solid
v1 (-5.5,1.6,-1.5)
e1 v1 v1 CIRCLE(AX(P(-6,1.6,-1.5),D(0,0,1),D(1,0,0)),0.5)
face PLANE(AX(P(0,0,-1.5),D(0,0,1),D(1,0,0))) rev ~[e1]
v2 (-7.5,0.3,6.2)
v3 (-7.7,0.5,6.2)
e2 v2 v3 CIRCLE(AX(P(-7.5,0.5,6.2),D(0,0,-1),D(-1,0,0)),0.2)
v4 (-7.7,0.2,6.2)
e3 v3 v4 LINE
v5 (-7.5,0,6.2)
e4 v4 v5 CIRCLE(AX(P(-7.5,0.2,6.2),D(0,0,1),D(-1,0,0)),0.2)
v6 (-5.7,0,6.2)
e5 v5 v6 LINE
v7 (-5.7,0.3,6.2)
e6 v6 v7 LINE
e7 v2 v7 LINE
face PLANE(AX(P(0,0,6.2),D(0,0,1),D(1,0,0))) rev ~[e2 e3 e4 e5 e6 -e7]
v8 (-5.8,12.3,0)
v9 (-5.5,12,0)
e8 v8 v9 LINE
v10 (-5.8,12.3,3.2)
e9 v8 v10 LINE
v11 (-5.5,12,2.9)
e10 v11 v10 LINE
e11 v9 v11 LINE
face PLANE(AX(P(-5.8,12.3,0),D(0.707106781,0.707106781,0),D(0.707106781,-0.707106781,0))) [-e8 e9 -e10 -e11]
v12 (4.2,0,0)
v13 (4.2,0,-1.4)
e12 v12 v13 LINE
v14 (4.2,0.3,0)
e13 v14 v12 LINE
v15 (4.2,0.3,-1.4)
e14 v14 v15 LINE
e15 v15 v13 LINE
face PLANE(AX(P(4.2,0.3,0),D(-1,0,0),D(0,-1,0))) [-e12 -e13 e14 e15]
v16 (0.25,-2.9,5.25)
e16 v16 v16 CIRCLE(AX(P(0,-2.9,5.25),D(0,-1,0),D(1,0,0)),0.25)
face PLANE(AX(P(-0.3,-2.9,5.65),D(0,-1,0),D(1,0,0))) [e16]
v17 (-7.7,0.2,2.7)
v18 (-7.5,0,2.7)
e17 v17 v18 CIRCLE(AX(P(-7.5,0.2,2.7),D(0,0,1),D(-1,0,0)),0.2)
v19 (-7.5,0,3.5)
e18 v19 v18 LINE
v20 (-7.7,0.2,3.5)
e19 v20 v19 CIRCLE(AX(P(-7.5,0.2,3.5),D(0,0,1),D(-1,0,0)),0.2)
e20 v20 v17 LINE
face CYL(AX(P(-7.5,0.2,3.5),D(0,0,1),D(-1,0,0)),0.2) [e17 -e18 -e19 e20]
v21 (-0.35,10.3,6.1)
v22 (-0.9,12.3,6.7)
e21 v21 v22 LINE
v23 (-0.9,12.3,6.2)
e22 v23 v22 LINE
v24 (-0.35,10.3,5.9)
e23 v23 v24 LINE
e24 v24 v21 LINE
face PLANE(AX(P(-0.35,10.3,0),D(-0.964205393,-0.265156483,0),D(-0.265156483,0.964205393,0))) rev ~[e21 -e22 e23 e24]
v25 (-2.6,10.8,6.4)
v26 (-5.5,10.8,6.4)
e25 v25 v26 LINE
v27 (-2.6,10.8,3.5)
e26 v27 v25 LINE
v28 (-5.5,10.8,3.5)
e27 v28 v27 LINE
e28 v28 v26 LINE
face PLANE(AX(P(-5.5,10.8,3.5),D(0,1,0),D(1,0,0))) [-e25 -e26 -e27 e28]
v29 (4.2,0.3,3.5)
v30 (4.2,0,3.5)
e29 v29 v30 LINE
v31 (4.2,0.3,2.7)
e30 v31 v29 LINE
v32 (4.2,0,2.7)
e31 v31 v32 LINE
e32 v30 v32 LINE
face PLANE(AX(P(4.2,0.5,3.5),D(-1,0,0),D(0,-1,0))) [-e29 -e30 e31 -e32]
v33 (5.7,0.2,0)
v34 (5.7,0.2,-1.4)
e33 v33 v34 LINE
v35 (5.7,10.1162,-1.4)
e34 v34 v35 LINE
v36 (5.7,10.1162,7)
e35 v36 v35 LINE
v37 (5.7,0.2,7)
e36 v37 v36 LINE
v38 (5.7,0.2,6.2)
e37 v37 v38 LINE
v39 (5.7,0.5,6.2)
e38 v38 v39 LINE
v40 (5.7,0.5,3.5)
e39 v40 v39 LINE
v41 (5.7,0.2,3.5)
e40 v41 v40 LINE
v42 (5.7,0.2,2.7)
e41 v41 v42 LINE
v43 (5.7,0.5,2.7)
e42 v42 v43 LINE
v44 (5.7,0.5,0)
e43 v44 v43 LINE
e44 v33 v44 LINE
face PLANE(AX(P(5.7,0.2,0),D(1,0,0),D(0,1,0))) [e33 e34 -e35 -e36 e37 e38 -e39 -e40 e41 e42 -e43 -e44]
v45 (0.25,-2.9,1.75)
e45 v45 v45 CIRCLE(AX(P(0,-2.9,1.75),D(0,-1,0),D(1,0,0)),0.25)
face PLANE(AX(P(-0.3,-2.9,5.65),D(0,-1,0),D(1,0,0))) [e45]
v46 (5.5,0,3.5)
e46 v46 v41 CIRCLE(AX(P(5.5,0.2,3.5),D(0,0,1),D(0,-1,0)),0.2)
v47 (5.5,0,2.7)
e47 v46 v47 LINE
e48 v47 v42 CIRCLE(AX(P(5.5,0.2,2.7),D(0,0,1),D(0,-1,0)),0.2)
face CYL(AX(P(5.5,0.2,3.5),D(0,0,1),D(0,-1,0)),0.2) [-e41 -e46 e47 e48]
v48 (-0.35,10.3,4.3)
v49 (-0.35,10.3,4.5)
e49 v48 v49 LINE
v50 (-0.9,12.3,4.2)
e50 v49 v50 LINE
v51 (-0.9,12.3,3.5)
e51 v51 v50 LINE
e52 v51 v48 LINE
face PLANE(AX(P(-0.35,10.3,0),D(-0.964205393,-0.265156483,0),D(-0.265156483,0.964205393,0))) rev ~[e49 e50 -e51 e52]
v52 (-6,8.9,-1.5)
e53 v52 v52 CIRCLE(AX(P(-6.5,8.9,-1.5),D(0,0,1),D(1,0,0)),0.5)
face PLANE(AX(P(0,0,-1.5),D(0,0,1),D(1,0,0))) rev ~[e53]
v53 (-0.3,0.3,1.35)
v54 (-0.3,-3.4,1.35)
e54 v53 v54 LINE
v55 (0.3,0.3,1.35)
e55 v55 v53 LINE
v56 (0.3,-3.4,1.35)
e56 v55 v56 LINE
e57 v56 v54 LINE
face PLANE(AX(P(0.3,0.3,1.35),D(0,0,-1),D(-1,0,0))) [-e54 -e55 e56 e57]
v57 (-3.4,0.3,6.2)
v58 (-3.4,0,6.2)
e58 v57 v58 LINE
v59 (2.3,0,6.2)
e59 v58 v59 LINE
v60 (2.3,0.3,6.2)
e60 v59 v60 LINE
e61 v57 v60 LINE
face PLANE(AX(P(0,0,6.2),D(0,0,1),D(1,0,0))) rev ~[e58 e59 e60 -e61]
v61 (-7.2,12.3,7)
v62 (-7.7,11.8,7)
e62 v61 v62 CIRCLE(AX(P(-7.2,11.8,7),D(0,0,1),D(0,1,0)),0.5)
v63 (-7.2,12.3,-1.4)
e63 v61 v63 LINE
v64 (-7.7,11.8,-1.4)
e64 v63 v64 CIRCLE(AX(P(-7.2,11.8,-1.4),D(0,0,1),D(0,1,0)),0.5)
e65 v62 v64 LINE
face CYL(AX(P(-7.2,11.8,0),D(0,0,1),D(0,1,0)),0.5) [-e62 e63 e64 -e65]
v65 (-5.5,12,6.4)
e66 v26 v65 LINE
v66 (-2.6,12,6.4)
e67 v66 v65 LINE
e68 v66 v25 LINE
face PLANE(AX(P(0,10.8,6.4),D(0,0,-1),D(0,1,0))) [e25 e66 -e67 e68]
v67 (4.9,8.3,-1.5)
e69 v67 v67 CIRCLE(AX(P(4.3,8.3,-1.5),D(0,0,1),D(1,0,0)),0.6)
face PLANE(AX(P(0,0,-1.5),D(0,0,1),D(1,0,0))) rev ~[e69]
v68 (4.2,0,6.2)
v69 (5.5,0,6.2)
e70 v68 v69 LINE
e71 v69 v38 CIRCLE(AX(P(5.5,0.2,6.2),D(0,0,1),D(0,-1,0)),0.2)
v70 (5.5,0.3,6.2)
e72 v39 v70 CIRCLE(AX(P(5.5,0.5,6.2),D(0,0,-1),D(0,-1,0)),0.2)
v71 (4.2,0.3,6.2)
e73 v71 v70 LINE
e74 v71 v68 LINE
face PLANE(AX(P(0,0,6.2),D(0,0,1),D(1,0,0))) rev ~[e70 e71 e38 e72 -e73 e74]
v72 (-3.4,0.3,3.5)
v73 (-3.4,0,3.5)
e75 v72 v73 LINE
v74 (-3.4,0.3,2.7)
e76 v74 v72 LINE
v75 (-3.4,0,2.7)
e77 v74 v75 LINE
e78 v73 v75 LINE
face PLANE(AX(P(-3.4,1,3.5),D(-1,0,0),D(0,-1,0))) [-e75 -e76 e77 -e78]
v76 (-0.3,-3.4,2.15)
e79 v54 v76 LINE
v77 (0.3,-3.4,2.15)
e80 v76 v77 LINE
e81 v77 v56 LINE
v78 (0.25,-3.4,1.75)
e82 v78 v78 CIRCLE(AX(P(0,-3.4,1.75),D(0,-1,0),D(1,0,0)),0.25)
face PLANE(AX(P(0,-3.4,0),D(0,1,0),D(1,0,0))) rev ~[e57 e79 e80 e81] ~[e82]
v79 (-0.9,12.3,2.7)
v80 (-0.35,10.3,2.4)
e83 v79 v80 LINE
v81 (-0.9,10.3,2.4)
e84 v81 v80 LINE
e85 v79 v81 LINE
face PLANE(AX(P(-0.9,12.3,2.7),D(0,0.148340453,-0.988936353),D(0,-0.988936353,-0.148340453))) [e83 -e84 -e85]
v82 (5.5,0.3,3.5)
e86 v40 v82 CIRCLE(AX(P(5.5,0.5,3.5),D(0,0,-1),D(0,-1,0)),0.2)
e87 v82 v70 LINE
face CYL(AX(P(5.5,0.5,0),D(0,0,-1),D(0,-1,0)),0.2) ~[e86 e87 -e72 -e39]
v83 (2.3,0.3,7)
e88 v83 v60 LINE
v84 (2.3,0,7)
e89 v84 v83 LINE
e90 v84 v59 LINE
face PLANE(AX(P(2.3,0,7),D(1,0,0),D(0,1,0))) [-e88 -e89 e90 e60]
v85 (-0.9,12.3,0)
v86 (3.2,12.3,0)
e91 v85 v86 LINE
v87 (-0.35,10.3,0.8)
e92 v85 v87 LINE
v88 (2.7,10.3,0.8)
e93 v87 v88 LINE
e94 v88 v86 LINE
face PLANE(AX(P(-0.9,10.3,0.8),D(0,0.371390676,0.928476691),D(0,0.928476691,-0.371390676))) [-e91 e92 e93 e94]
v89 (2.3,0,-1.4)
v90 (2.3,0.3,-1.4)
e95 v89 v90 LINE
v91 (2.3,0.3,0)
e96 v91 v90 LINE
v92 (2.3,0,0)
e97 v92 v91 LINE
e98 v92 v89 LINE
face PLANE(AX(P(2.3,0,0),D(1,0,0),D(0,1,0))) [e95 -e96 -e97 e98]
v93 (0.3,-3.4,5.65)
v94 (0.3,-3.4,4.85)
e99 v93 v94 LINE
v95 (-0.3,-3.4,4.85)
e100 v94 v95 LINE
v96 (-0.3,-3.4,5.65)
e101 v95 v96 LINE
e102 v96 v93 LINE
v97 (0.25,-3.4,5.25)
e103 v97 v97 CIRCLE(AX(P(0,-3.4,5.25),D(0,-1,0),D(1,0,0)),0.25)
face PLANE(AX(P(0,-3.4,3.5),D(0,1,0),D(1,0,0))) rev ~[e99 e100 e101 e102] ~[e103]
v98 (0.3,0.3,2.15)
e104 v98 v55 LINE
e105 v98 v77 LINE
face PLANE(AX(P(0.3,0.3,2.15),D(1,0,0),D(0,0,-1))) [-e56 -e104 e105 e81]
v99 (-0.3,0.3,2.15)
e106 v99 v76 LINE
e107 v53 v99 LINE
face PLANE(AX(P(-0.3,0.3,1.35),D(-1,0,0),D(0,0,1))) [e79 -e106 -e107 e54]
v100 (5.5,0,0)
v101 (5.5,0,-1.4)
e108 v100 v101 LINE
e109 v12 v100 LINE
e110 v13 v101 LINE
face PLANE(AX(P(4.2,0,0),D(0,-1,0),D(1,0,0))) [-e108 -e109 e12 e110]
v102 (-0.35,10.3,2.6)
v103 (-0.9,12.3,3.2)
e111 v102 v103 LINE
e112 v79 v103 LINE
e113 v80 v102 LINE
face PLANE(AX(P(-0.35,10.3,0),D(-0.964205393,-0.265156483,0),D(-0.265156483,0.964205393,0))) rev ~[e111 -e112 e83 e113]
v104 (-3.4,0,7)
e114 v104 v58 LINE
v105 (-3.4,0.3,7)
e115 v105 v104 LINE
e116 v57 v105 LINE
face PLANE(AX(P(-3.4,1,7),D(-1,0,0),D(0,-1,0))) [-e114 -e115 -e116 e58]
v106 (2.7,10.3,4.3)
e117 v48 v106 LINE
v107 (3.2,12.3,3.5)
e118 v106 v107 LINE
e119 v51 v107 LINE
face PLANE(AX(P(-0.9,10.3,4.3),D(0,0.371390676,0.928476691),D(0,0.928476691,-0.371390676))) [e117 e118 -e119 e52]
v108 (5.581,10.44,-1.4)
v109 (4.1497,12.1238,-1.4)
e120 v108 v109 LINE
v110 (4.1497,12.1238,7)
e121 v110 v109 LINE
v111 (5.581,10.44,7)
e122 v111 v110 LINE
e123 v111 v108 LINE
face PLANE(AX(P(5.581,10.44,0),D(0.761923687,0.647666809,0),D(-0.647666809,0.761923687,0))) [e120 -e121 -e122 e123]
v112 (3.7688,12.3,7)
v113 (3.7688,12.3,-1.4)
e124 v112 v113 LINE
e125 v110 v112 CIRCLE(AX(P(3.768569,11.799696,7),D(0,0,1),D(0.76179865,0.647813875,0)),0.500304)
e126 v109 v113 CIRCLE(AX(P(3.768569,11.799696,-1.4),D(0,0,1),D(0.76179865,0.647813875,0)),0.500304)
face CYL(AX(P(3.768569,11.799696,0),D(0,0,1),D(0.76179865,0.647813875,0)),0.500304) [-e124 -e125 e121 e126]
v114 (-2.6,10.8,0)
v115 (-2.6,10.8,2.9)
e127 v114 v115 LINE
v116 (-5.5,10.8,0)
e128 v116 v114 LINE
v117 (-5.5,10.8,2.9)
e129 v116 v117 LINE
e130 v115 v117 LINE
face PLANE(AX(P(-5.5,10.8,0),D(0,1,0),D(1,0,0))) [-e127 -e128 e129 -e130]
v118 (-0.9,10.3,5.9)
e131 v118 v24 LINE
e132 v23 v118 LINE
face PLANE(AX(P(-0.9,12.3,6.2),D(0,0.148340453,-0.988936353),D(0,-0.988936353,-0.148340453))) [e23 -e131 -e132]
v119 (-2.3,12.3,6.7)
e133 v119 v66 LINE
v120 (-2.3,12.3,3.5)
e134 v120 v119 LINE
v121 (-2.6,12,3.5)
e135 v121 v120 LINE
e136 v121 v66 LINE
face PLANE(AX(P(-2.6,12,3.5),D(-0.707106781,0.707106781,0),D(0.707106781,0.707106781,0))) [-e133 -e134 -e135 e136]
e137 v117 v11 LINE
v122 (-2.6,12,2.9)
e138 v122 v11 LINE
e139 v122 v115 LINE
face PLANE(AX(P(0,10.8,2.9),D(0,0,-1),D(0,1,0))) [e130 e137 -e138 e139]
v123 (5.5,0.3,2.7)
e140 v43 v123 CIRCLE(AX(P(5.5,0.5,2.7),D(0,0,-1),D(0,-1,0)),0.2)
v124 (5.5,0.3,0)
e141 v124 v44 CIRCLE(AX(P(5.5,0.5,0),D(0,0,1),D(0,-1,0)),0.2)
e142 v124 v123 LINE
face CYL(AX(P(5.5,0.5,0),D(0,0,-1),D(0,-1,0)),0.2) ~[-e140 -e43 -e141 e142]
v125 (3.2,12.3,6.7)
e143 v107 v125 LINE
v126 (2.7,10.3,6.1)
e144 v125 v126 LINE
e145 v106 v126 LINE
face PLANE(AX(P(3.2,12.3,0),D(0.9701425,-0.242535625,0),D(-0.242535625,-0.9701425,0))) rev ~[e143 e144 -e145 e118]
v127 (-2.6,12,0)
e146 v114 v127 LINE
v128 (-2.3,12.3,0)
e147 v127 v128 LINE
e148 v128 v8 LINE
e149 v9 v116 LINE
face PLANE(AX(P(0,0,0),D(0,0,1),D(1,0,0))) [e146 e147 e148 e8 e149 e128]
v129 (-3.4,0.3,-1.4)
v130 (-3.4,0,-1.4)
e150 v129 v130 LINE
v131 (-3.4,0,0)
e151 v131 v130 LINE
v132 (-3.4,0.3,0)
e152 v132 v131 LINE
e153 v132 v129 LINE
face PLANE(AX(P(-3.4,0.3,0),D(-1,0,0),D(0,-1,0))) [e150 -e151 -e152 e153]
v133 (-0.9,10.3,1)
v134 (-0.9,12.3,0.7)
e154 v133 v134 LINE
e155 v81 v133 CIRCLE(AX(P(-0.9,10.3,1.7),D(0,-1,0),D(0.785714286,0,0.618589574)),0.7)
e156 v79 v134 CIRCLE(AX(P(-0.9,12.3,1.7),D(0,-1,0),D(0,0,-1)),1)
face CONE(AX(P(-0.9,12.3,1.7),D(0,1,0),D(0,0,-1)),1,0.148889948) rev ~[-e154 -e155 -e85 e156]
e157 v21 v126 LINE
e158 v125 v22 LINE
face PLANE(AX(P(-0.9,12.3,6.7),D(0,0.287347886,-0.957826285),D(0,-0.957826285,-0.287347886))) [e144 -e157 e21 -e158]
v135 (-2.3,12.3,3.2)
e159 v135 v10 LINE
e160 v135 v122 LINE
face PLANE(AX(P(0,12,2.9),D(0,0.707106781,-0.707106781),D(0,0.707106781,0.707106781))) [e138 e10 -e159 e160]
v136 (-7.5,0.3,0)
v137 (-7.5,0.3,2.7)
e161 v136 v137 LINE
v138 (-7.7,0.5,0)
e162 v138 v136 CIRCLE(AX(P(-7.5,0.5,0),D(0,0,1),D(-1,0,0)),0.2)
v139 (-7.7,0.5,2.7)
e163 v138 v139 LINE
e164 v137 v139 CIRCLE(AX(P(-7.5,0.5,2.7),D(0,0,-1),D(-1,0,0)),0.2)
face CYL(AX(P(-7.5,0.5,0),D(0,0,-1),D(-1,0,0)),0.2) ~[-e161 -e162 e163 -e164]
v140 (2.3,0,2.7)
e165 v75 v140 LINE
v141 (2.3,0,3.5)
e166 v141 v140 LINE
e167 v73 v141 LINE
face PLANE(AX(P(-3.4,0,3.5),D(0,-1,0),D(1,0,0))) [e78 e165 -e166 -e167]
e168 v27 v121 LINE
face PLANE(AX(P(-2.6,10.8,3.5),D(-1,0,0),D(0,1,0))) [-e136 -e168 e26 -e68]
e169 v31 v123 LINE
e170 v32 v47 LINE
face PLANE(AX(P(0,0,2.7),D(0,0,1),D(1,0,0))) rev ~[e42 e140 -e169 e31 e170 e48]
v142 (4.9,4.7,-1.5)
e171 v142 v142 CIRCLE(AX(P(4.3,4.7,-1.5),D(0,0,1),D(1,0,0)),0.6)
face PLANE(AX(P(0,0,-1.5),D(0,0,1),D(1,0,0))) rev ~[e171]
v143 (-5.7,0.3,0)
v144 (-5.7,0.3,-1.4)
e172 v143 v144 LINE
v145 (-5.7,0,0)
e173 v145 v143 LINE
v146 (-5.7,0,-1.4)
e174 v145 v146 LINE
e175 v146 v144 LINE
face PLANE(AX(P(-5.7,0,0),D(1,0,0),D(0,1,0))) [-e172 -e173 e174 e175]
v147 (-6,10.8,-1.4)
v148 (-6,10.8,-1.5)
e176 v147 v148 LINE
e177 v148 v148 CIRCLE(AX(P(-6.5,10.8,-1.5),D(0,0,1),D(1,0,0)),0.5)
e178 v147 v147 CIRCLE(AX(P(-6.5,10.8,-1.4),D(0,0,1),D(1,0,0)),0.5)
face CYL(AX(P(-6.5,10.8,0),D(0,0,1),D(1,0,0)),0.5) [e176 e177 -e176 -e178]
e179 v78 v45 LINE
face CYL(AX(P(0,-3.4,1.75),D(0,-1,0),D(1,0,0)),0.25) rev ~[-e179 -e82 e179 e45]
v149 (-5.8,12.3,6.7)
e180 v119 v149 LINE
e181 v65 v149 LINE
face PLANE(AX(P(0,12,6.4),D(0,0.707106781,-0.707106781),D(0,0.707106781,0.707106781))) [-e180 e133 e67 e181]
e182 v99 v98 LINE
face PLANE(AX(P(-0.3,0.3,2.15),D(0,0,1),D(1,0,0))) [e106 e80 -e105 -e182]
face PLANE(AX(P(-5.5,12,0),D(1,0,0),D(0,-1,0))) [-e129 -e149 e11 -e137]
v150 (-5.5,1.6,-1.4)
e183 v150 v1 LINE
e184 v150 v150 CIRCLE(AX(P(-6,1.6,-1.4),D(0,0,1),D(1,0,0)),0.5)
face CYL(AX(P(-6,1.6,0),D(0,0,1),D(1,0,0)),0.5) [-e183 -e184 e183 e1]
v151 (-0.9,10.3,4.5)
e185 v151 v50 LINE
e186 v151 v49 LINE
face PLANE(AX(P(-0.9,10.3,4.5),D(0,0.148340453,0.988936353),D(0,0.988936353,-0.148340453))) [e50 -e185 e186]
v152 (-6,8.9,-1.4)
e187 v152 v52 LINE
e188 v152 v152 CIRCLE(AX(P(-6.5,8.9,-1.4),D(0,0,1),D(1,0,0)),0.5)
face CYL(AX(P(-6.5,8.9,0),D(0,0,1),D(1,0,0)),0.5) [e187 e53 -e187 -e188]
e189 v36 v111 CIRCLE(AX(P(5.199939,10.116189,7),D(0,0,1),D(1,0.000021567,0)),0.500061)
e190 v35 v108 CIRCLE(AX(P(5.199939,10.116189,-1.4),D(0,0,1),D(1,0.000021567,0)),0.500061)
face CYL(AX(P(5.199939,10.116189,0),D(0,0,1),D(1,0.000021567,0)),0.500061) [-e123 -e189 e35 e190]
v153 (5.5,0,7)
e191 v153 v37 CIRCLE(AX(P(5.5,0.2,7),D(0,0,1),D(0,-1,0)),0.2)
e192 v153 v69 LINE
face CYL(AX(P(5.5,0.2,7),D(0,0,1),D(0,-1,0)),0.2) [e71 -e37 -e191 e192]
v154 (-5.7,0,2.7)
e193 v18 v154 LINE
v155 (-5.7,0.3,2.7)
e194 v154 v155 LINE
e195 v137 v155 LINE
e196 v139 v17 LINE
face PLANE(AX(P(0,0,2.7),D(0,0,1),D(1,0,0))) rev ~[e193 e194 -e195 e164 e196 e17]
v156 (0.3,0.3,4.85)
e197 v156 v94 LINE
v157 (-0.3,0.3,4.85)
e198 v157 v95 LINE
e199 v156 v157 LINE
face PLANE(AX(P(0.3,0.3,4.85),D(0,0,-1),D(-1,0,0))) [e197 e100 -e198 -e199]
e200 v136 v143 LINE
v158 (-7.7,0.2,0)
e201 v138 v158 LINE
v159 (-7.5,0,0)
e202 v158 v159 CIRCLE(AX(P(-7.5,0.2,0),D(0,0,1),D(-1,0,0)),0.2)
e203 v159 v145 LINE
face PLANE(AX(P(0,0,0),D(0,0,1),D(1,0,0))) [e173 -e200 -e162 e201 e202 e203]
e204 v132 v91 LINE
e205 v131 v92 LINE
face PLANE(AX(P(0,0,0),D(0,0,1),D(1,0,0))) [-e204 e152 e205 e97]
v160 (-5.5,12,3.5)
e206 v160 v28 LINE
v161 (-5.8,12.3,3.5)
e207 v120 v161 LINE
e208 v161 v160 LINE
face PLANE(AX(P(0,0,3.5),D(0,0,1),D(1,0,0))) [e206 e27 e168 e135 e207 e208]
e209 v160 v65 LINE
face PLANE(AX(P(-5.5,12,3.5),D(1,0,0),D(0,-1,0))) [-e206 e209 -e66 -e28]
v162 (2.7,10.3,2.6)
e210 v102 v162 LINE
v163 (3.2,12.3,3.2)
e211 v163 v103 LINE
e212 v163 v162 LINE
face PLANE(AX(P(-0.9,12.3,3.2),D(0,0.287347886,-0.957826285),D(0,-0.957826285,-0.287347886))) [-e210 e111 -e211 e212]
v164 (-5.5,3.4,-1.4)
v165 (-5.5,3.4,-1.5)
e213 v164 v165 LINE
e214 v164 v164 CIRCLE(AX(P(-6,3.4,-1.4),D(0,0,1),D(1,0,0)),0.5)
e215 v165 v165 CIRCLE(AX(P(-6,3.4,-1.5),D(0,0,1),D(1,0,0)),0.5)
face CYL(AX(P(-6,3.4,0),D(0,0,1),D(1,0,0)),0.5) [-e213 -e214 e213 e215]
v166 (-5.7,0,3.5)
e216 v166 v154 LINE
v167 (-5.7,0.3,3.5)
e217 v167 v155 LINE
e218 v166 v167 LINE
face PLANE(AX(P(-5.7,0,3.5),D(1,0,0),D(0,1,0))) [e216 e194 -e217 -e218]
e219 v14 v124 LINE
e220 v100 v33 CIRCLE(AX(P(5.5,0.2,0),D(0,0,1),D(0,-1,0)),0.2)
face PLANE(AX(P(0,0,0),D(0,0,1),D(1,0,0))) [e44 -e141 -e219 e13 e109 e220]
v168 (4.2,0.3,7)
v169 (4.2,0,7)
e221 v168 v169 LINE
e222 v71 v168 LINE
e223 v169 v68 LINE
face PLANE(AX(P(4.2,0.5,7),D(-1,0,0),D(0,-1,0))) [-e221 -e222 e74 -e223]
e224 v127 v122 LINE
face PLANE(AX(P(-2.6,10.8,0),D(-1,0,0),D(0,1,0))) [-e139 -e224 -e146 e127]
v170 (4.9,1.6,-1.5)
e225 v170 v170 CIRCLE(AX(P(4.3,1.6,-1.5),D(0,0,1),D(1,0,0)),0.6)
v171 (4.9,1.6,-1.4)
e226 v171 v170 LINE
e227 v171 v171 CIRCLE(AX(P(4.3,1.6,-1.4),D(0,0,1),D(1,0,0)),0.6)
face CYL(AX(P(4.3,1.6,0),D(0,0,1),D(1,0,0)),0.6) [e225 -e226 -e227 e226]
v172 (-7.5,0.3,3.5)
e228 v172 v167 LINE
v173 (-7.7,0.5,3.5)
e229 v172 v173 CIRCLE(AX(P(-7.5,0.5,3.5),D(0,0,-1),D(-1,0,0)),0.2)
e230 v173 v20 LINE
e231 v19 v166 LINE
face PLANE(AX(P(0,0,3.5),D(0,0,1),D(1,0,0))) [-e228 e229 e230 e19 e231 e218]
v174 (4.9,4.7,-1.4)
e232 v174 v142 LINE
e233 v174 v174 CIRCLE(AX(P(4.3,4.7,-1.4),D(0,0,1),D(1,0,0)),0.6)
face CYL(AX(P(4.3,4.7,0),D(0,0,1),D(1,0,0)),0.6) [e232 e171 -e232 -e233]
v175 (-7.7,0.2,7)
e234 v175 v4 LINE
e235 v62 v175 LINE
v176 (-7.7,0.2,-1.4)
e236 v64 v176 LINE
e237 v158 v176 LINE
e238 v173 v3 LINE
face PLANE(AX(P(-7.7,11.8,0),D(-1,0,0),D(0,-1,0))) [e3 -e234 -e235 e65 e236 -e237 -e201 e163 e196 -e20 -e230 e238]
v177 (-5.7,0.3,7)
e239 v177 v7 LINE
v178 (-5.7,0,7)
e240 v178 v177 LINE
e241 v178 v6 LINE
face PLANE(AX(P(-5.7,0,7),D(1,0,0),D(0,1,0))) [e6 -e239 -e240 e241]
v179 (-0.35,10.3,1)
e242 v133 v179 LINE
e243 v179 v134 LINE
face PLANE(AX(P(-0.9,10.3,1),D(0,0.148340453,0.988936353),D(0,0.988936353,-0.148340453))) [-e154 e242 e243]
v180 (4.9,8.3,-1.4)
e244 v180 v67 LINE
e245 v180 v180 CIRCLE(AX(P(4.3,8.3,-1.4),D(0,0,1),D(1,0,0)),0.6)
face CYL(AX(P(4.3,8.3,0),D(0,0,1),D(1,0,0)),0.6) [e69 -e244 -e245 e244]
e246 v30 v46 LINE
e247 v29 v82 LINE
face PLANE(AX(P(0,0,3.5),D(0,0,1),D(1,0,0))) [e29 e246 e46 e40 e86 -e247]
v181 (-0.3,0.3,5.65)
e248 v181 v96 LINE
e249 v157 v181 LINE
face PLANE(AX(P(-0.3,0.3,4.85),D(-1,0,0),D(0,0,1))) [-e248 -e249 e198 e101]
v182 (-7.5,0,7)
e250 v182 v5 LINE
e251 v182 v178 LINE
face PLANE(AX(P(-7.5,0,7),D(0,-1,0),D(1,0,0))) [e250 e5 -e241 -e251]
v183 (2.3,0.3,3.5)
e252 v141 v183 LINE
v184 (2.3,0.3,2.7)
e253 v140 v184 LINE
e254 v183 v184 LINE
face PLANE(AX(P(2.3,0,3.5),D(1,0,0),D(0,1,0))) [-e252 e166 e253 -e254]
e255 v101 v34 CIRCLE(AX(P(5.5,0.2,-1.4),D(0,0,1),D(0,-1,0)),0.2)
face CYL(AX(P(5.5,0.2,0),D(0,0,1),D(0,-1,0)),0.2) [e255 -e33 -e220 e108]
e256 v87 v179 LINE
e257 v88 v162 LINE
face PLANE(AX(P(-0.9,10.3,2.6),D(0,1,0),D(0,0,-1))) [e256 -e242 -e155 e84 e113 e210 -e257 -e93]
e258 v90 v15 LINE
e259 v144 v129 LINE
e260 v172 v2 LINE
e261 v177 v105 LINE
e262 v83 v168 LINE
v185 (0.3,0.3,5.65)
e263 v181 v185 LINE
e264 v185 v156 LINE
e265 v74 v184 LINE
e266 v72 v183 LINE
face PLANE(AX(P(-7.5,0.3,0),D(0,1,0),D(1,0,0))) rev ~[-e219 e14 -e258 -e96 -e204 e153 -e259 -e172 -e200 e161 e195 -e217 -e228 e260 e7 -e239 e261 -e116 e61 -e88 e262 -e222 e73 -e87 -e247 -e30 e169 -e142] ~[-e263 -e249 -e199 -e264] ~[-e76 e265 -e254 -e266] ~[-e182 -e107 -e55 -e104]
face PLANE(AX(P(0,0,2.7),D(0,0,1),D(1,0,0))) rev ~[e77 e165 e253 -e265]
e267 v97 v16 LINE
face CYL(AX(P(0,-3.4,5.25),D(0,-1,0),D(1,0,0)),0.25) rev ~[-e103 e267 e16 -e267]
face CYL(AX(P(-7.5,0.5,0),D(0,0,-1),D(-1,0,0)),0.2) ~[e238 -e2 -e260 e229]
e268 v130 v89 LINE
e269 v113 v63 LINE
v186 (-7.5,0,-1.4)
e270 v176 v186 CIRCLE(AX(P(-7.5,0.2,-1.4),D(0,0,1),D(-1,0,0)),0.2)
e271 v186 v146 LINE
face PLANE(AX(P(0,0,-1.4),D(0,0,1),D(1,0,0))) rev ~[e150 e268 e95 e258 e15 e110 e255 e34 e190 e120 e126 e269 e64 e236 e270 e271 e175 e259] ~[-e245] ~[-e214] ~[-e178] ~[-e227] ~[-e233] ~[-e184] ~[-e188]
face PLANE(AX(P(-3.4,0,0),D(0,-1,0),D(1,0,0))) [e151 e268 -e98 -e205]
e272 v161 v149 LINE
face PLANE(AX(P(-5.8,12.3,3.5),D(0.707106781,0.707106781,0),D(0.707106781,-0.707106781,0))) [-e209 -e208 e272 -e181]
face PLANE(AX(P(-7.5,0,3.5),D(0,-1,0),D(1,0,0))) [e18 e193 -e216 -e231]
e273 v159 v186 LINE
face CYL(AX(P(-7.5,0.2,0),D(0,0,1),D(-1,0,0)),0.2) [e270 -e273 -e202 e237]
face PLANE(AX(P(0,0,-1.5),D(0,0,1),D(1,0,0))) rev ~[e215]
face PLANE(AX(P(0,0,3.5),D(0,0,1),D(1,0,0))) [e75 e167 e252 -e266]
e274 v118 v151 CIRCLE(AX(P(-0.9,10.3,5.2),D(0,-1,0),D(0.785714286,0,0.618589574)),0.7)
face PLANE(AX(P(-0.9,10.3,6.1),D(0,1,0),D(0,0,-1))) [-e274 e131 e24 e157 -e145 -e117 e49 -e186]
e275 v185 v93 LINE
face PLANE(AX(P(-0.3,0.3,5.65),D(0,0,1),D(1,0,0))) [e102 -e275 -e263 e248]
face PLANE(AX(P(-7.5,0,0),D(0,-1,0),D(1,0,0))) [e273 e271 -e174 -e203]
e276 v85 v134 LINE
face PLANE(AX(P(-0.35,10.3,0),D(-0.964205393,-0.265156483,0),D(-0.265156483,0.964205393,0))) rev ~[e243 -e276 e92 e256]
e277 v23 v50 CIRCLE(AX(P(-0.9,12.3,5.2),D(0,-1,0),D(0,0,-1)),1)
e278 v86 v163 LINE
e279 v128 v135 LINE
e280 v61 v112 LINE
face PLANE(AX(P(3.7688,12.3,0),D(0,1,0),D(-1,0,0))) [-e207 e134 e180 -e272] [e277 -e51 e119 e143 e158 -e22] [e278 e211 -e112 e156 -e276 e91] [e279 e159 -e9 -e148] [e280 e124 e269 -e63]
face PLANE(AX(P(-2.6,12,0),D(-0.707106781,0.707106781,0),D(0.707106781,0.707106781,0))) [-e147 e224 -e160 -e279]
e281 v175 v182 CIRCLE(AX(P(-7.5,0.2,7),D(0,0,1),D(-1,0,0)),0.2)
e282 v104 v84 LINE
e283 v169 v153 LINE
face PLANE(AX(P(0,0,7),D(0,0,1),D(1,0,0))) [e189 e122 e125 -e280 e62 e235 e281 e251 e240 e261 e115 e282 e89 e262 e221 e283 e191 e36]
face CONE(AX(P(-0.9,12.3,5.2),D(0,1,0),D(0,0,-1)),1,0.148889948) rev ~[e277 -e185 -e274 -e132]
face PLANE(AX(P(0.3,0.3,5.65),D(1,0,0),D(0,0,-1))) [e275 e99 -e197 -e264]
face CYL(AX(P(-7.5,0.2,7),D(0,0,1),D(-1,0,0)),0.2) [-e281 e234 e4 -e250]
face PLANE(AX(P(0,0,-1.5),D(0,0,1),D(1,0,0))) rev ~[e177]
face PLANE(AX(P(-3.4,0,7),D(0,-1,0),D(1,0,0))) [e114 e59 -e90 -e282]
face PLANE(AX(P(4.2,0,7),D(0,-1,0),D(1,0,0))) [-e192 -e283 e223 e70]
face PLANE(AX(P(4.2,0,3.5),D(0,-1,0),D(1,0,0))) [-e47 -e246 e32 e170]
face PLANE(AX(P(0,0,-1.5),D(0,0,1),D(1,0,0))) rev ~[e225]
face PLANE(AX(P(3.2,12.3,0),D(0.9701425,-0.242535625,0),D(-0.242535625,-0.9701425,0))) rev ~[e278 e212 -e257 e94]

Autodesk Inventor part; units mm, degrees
ref_plane "YZ Plane" through (0, 0, 0) normal (1, 0, 0) x (0, 1, 0)
ref_plane "XZ Plane" through (0, 0, 0) normal (0, 1, 0) x (-1, 0, 0)
ref_plane "XY Plane" through (0, 0, 0) normal (0, 0, 1) x (1, 0, 0)
sketch "Skizze_1" plane through (0, 0, 0) normal (0, 0, 1) x (1, 0, 0)
  arc A0 (-7.7, 0.5) -> (-7.5, 0.3) centre (-7.5, 0.5) ccw
  line L0 (-7.5, 0.3) -> (5.5, 0.3)
  arc A1 (5.5, 0.3) -> (5.7, 0.5) centre (5.5, 0.5) ccw
  line L1 (5.7, 0.5) -> (5.7, 10.1162)
  arc A2 (5.7, 10.1162) -> (5.581, 10.44) centre (5.2, 10.1162) ccw
  line L2 (5.581, 10.44) -> (4.1497, 12.1238)
  arc A3 (4.1497, 12.1238) -> (3.7688, 12.3) centre (3.7688, 11.8) ccw
  line L3 (3.7688, 12.3) -> (-7.2, 12.3)
  arc A4 (-7.2, 12.3) -> (-7.7, 11.8) centre (-7.2, 11.8) ccw
  line L4 (-7.7, 11.8) -> (-7.7, 0.5)
extrude "Extrusion1" add sketch "Skizze_1" along normal blind 7
sketch "Skizze_2" plane through (0, 0, 7) normal (0, 0, 1) x (1, 0, 0)
  line L0 (4.2, 0) -> (5.5, 0)
  arc A0 (5.5, 0) -> (5.7, 0.2) centre (5.5, 0.2) ccw
  line L1 (5.7, 0.2) -> (5.7, 0.5)
  line L2 (5.7, 0.5) -> (4.2, 0.5)
  line L3 (4.2, 0.5) -> (4.2, 0)
extrude "Extrusion2" add sketch "Skizze_2" against normal blind 0.8
pattern_linear "Rectangular Pattern1" count 2 spacing 3.5 along (0, 0, -1) of "Extrusion2"
sketch "Skizze_4" plane through (0, 0, 7) normal (0, 0, 1) x (1, 0, 0)
  line L0 (-7.7, 1) -> (-7.7, 0.2)
  arc A0 (-7.7, 0.2) -> (-7.5, 0) centre (-7.5, 0.2) ccw
  line L1 (-7.5, 0) -> (-5.7, 0)
  line L2 (-5.7, 0) -> (-5.7, 1)
  line L3 (-5.7, 1) -> (-7.7, 1)
extrude "Extrusion3" add sketch "Skizze_4" against normal blind 0.8
pattern_linear "Rectangular Pattern2" count 2 spacing 3.5 along (0, 0, -1) of "Extrusion3"
sketch "Skizze_6" plane through (0, 0, 7) normal (0, 0, 1) x (1, 0, 0)
  line L0 (-3.4, 0) -> (2.3, 0)
  line L1 (2.3, 0) -> (2.3, 1)
  line L2 (2.3, 1) -> (-3.4, 1)
  line L3 (-3.4, 1) -> (-3.4, 0)
extrude "Extrusion4" add sketch "Skizze_6" against normal blind 0.8
pattern_linear "Rectangular Pattern3" count 2 spacing 3.5 along (0, 0, -1) of "Extrusion4"
sketch "Skizze_8" plane through (0, 0, 0) normal (0, 0, 1) x (1, 0, 0)
  circle A0 centre (4.3, 1.6) radius 0.6
extrude "Extrusion5" add sketch "Skizze_8" against normal blind 1.5
sketch "Skizze_9" plane through (0, 0, 0) normal (0, 0, 1) x (1, 0, 0)
  circle A0 centre (4.3, 4.7) radius 0.6
extrude "Extrusion6" add sketch "Skizze_9" against normal blind 1.5
sketch "Skizze_10" plane through (0, 0, 0) normal (0, 0, 1) x (1, 0, 0)
  circle A0 centre (4.3, 8.3) radius 0.6
extrude "Extrusion7" add sketch "Skizze_10" against normal blind 1.5
sketch "Skizze_11" plane through (0, 0, 0) normal (0, 0, 1) x (1, 0, 0)
  circle A0 centre (-6, 1.6) radius 0.5
extrude "Extrusion8" add sketch "Skizze_11" against normal blind 1.5
sketch "Skizze_12" plane through (0, 0, 0) normal (0, 0, 1) x (1, 0, 0)
  circle A0 centre (-6, 3.4) radius 0.5
extrude "Extrusion9" add sketch "Skizze_12" against normal blind 1.5
sketch "Skizze_13" plane through (0, 0, 0) normal (0, 0, 1) x (1, 0, 0)
  circle A0 centre (-6.5, 8.9) radius 0.5
extrude "Extrusion10" add sketch "Skizze_13" against normal blind 1.5
sketch "Skizze_14" plane through (0, 0, 0) normal (0, 0, 1) x (1, 0, 0)
  circle A0 centre (-6.5, 10.8) radius 0.5
extrude "Extrusion11" add sketch "Skizze_14" against normal blind 1.5
sketch "Skizze_15" plane through (0, 0, 0) normal (0, 0, 1) x (1, 0, 0)
  arc A0 (-7.7, 0.2) -> (-7.5, 0) centre (-7.5, 0.2) ccw
  line L0 (-7.5, 0) -> (-5.7, 0)
  line L1 (-5.7, 0) -> (-5.7, 0.3)
  line L2 (-5.7, 0.3) -> (-3.4, 0.3)
  line L3 (-3.4, 0.3) -> (-3.4, 0)
  line L4 (-3.4, 0) -> (2.3, 0)
  line L5 (2.3, 0) -> (2.3, 0.3)
  line L6 (2.3, 0.3) -> (4.2, 0.3)
  line L7 (4.2, 0.3) -> (4.2, 0)
  line L8 (4.2, 0) -> (5.5, 0)
  arc A1 (5.5, 0) -> (5.7, 0.2) centre (5.5, 0.2) ccw
  line L9 (5.7, 0.2) -> (5.7, 10.1162)
  arc A2 (5.7, 10.1162) -> (5.581, 10.44) centre (5.2, 10.1162) ccw
  line L10 (5.581, 10.44) -> (4.1497, 12.1238)
  arc A3 (4.1497, 12.1238) -> (3.7688, 12.3) centre (3.7688, 11.8) ccw
  line L11 (3.7688, 12.3) -> (-7.2, 12.3)
  arc A4 (-7.2, 12.3) -> (-7.7, 11.8) centre (-7.2, 11.8) ccw
  line L12 (-7.7, 11.8) -> (-7.7, 0.2)
extrude "Extrusion12" add sketch "Skizze_15" against normal blind 1.4
sketch "Skizze_16" plane through (0, 0, 0) normal (0, 0, 1) x (1, 0, 0)
  line L0 (-5.8, 12.3) -> (-5.5, 12)
  line L1 (-5.5, 12) -> (-5.5, 10.8)
  line L2 (-5.5, 10.8) -> (-2.6, 10.8)
  line L3 (-2.6, 10.8) -> (-2.6, 12)
  line L4 (-2.6, 12) -> (-2.3, 12.3)
  line L5 (-2.3, 12.3) -> (-5.8, 12.3)
extrude "Extrusion13" cut sketch "Skizze_16" along normal blind 3.2
pattern_linear "Rectangular Pattern4" count 2 spacing 3.5 along (0, 0, 1) of "Extrusion13"
sketch "Skizze_18" plane through (0, 0, 0) normal (1, 0, 0) x (0, 1, 0)
  line L0 (10.8, 3.2) -> (10.8, 2.9)
  line L1 (10.8, 2.9) -> (12, 2.9)
  line L2 (12, 2.9) -> (12.3, 3.2)
  line L3 (12.3, 3.2) -> (10.8, 3.2)
extrude "Extrusion14" add sketch "Skizze_18" against normal blind 6
pattern_linear "Rectangular Pattern5" count 2 spacing 3.5 along (0, 0, 1) of "Extrusion14"
sketch "Skizze_20" plane through (-0.9, 0, 0) normal (1, 0, 0) x (0, 0, -1)
  line L0 (-3.2, 12.3) -> (-2.6, 10.3)
  line L1 (-2.6, 10.3) -> (-0.8, 10.3)
  line L2 (-0.8, 10.3) -> (0, 12.3)
  line L3 (0, 12.3) -> (-3.2, 12.3)
extrude "Extrusion15" cut sketch "Skizze_20" along normal blind 4.1
pattern_linear "Rectangular Pattern6" count 2 spacing 3.5 along (0, 0, 1) of "Extrusion15"
sketch "Skizze_22" plane through (0, 0, 0) normal (0, 0, 1) x (1, 0, 0)
  line L0 (-0.9, 9.8) -> (3.2, 9.8)
  line L1 (3.2, 9.8) -> (3.2, 12.3)
  line L2 (3.2, 12.3) -> (2.7, 10.3)
  line L3 (2.7, 10.3) -> (-0.35, 10.3)
  line L4 (-0.35, 10.3) -> (-0.9, 12.3)
  line L5 (-0.9, 12.3) -> (-0.9, 9.8)
extrude "Extrusion16" add sketch "Skizze_22" along normal blind 7
sketch "Skizze_23" plane through (-0.9, 0, 0) normal (1, 0, 0) x (0, 0, -1)
  line L0 (-1.7, 10.3) -> (-1.7, 12.3)
  line L1 (-1.7, 12.3) -> (-0.7, 12.3)
  line L2 (-0.7, 12.3) -> (-1, 10.3)
  line L3 (-1, 10.3) -> (-1.7, 10.3)
  line L4 (-1.7, 10.3) -> (-1.7, 12.3)
revolve "Revolution1" cut sketch "Skizze_23" angle 360 about axis through (-0.9, 10.3, 1.7) along (0, -1, 0)
pattern_linear "Rectangular Pattern7" count 2 spacing 3.5 along (0, 0, 1) of "Revolution1"
sketch "Skizze_24" plane through (-0.9, 0, 0) normal (1, 0, 0) x (0, 0, -1)
  line L0 (-2.7, 12.3) -> (-2.4, 10.3)
  line L1 (-2.4, 10.3) -> (-1, 10.3)
  line L2 (-1, 10.3) -> (-0.7, 12.3)
  line L3 (-0.7, 12.3) -> (-2.7, 12.3)
extrude "Extrusion17" cut sketch "Skizze_24" along normal blind 1
pattern_linear "Rectangular Pattern8" count 2 spacing 3.5 along (0, 0, 1) of "Extrusion17"
sketch "Skizze_27" plane through (0, 0.3, 0) normal (0, 1, 0) x (1, 0, 0)
  line L0 (-0.3, -1.35) -> (-0.3, -2.15)
  line L1 (-0.3, -2.15) -> (0.3, -2.15)
  line L2 (0.3, -2.15) -> (0.3, -1.35)
  line L3 (0.3, -1.35) -> (-0.3, -1.35)
extrude "Extrusion18" add sketch "Skizze_27" against normal blind 3.7
pattern_linear "Rectangular Pattern9" count 2 spacing 3.5 along (0, 0, 1) of "Extrusion18"
sketch "Sketch20" plane through (-0.3, -3.4, 5.65) normal (0, -1, 0) x (1, 0, 0)
  line L0 (0, 0) -> (0.6, 0) construction
  line L1 (0.6, -0.8) -> (0, -0.8) construction
  line L2 (0, -3.5) -> (0.6, -3.5) construction
  line L3 (0.6, -4.3) -> (0, -4.3) construction
  line L4 (0, -3.5) -> (0.6, -4.3) construction
  line L5 (0, 0) -> (0.6, -0.8) construction
  circle A0 centre (0.3, -0.4) radius 0.25
  circle A1 centre (0.3, -3.9) radius 0.25
  point P0 (0.3, -5.65)
  dimension "d91" = 0.5
extrude "Extrusion19" cut sketch "Sketch20" against normal blind 0.5
properties part number "739-302"
